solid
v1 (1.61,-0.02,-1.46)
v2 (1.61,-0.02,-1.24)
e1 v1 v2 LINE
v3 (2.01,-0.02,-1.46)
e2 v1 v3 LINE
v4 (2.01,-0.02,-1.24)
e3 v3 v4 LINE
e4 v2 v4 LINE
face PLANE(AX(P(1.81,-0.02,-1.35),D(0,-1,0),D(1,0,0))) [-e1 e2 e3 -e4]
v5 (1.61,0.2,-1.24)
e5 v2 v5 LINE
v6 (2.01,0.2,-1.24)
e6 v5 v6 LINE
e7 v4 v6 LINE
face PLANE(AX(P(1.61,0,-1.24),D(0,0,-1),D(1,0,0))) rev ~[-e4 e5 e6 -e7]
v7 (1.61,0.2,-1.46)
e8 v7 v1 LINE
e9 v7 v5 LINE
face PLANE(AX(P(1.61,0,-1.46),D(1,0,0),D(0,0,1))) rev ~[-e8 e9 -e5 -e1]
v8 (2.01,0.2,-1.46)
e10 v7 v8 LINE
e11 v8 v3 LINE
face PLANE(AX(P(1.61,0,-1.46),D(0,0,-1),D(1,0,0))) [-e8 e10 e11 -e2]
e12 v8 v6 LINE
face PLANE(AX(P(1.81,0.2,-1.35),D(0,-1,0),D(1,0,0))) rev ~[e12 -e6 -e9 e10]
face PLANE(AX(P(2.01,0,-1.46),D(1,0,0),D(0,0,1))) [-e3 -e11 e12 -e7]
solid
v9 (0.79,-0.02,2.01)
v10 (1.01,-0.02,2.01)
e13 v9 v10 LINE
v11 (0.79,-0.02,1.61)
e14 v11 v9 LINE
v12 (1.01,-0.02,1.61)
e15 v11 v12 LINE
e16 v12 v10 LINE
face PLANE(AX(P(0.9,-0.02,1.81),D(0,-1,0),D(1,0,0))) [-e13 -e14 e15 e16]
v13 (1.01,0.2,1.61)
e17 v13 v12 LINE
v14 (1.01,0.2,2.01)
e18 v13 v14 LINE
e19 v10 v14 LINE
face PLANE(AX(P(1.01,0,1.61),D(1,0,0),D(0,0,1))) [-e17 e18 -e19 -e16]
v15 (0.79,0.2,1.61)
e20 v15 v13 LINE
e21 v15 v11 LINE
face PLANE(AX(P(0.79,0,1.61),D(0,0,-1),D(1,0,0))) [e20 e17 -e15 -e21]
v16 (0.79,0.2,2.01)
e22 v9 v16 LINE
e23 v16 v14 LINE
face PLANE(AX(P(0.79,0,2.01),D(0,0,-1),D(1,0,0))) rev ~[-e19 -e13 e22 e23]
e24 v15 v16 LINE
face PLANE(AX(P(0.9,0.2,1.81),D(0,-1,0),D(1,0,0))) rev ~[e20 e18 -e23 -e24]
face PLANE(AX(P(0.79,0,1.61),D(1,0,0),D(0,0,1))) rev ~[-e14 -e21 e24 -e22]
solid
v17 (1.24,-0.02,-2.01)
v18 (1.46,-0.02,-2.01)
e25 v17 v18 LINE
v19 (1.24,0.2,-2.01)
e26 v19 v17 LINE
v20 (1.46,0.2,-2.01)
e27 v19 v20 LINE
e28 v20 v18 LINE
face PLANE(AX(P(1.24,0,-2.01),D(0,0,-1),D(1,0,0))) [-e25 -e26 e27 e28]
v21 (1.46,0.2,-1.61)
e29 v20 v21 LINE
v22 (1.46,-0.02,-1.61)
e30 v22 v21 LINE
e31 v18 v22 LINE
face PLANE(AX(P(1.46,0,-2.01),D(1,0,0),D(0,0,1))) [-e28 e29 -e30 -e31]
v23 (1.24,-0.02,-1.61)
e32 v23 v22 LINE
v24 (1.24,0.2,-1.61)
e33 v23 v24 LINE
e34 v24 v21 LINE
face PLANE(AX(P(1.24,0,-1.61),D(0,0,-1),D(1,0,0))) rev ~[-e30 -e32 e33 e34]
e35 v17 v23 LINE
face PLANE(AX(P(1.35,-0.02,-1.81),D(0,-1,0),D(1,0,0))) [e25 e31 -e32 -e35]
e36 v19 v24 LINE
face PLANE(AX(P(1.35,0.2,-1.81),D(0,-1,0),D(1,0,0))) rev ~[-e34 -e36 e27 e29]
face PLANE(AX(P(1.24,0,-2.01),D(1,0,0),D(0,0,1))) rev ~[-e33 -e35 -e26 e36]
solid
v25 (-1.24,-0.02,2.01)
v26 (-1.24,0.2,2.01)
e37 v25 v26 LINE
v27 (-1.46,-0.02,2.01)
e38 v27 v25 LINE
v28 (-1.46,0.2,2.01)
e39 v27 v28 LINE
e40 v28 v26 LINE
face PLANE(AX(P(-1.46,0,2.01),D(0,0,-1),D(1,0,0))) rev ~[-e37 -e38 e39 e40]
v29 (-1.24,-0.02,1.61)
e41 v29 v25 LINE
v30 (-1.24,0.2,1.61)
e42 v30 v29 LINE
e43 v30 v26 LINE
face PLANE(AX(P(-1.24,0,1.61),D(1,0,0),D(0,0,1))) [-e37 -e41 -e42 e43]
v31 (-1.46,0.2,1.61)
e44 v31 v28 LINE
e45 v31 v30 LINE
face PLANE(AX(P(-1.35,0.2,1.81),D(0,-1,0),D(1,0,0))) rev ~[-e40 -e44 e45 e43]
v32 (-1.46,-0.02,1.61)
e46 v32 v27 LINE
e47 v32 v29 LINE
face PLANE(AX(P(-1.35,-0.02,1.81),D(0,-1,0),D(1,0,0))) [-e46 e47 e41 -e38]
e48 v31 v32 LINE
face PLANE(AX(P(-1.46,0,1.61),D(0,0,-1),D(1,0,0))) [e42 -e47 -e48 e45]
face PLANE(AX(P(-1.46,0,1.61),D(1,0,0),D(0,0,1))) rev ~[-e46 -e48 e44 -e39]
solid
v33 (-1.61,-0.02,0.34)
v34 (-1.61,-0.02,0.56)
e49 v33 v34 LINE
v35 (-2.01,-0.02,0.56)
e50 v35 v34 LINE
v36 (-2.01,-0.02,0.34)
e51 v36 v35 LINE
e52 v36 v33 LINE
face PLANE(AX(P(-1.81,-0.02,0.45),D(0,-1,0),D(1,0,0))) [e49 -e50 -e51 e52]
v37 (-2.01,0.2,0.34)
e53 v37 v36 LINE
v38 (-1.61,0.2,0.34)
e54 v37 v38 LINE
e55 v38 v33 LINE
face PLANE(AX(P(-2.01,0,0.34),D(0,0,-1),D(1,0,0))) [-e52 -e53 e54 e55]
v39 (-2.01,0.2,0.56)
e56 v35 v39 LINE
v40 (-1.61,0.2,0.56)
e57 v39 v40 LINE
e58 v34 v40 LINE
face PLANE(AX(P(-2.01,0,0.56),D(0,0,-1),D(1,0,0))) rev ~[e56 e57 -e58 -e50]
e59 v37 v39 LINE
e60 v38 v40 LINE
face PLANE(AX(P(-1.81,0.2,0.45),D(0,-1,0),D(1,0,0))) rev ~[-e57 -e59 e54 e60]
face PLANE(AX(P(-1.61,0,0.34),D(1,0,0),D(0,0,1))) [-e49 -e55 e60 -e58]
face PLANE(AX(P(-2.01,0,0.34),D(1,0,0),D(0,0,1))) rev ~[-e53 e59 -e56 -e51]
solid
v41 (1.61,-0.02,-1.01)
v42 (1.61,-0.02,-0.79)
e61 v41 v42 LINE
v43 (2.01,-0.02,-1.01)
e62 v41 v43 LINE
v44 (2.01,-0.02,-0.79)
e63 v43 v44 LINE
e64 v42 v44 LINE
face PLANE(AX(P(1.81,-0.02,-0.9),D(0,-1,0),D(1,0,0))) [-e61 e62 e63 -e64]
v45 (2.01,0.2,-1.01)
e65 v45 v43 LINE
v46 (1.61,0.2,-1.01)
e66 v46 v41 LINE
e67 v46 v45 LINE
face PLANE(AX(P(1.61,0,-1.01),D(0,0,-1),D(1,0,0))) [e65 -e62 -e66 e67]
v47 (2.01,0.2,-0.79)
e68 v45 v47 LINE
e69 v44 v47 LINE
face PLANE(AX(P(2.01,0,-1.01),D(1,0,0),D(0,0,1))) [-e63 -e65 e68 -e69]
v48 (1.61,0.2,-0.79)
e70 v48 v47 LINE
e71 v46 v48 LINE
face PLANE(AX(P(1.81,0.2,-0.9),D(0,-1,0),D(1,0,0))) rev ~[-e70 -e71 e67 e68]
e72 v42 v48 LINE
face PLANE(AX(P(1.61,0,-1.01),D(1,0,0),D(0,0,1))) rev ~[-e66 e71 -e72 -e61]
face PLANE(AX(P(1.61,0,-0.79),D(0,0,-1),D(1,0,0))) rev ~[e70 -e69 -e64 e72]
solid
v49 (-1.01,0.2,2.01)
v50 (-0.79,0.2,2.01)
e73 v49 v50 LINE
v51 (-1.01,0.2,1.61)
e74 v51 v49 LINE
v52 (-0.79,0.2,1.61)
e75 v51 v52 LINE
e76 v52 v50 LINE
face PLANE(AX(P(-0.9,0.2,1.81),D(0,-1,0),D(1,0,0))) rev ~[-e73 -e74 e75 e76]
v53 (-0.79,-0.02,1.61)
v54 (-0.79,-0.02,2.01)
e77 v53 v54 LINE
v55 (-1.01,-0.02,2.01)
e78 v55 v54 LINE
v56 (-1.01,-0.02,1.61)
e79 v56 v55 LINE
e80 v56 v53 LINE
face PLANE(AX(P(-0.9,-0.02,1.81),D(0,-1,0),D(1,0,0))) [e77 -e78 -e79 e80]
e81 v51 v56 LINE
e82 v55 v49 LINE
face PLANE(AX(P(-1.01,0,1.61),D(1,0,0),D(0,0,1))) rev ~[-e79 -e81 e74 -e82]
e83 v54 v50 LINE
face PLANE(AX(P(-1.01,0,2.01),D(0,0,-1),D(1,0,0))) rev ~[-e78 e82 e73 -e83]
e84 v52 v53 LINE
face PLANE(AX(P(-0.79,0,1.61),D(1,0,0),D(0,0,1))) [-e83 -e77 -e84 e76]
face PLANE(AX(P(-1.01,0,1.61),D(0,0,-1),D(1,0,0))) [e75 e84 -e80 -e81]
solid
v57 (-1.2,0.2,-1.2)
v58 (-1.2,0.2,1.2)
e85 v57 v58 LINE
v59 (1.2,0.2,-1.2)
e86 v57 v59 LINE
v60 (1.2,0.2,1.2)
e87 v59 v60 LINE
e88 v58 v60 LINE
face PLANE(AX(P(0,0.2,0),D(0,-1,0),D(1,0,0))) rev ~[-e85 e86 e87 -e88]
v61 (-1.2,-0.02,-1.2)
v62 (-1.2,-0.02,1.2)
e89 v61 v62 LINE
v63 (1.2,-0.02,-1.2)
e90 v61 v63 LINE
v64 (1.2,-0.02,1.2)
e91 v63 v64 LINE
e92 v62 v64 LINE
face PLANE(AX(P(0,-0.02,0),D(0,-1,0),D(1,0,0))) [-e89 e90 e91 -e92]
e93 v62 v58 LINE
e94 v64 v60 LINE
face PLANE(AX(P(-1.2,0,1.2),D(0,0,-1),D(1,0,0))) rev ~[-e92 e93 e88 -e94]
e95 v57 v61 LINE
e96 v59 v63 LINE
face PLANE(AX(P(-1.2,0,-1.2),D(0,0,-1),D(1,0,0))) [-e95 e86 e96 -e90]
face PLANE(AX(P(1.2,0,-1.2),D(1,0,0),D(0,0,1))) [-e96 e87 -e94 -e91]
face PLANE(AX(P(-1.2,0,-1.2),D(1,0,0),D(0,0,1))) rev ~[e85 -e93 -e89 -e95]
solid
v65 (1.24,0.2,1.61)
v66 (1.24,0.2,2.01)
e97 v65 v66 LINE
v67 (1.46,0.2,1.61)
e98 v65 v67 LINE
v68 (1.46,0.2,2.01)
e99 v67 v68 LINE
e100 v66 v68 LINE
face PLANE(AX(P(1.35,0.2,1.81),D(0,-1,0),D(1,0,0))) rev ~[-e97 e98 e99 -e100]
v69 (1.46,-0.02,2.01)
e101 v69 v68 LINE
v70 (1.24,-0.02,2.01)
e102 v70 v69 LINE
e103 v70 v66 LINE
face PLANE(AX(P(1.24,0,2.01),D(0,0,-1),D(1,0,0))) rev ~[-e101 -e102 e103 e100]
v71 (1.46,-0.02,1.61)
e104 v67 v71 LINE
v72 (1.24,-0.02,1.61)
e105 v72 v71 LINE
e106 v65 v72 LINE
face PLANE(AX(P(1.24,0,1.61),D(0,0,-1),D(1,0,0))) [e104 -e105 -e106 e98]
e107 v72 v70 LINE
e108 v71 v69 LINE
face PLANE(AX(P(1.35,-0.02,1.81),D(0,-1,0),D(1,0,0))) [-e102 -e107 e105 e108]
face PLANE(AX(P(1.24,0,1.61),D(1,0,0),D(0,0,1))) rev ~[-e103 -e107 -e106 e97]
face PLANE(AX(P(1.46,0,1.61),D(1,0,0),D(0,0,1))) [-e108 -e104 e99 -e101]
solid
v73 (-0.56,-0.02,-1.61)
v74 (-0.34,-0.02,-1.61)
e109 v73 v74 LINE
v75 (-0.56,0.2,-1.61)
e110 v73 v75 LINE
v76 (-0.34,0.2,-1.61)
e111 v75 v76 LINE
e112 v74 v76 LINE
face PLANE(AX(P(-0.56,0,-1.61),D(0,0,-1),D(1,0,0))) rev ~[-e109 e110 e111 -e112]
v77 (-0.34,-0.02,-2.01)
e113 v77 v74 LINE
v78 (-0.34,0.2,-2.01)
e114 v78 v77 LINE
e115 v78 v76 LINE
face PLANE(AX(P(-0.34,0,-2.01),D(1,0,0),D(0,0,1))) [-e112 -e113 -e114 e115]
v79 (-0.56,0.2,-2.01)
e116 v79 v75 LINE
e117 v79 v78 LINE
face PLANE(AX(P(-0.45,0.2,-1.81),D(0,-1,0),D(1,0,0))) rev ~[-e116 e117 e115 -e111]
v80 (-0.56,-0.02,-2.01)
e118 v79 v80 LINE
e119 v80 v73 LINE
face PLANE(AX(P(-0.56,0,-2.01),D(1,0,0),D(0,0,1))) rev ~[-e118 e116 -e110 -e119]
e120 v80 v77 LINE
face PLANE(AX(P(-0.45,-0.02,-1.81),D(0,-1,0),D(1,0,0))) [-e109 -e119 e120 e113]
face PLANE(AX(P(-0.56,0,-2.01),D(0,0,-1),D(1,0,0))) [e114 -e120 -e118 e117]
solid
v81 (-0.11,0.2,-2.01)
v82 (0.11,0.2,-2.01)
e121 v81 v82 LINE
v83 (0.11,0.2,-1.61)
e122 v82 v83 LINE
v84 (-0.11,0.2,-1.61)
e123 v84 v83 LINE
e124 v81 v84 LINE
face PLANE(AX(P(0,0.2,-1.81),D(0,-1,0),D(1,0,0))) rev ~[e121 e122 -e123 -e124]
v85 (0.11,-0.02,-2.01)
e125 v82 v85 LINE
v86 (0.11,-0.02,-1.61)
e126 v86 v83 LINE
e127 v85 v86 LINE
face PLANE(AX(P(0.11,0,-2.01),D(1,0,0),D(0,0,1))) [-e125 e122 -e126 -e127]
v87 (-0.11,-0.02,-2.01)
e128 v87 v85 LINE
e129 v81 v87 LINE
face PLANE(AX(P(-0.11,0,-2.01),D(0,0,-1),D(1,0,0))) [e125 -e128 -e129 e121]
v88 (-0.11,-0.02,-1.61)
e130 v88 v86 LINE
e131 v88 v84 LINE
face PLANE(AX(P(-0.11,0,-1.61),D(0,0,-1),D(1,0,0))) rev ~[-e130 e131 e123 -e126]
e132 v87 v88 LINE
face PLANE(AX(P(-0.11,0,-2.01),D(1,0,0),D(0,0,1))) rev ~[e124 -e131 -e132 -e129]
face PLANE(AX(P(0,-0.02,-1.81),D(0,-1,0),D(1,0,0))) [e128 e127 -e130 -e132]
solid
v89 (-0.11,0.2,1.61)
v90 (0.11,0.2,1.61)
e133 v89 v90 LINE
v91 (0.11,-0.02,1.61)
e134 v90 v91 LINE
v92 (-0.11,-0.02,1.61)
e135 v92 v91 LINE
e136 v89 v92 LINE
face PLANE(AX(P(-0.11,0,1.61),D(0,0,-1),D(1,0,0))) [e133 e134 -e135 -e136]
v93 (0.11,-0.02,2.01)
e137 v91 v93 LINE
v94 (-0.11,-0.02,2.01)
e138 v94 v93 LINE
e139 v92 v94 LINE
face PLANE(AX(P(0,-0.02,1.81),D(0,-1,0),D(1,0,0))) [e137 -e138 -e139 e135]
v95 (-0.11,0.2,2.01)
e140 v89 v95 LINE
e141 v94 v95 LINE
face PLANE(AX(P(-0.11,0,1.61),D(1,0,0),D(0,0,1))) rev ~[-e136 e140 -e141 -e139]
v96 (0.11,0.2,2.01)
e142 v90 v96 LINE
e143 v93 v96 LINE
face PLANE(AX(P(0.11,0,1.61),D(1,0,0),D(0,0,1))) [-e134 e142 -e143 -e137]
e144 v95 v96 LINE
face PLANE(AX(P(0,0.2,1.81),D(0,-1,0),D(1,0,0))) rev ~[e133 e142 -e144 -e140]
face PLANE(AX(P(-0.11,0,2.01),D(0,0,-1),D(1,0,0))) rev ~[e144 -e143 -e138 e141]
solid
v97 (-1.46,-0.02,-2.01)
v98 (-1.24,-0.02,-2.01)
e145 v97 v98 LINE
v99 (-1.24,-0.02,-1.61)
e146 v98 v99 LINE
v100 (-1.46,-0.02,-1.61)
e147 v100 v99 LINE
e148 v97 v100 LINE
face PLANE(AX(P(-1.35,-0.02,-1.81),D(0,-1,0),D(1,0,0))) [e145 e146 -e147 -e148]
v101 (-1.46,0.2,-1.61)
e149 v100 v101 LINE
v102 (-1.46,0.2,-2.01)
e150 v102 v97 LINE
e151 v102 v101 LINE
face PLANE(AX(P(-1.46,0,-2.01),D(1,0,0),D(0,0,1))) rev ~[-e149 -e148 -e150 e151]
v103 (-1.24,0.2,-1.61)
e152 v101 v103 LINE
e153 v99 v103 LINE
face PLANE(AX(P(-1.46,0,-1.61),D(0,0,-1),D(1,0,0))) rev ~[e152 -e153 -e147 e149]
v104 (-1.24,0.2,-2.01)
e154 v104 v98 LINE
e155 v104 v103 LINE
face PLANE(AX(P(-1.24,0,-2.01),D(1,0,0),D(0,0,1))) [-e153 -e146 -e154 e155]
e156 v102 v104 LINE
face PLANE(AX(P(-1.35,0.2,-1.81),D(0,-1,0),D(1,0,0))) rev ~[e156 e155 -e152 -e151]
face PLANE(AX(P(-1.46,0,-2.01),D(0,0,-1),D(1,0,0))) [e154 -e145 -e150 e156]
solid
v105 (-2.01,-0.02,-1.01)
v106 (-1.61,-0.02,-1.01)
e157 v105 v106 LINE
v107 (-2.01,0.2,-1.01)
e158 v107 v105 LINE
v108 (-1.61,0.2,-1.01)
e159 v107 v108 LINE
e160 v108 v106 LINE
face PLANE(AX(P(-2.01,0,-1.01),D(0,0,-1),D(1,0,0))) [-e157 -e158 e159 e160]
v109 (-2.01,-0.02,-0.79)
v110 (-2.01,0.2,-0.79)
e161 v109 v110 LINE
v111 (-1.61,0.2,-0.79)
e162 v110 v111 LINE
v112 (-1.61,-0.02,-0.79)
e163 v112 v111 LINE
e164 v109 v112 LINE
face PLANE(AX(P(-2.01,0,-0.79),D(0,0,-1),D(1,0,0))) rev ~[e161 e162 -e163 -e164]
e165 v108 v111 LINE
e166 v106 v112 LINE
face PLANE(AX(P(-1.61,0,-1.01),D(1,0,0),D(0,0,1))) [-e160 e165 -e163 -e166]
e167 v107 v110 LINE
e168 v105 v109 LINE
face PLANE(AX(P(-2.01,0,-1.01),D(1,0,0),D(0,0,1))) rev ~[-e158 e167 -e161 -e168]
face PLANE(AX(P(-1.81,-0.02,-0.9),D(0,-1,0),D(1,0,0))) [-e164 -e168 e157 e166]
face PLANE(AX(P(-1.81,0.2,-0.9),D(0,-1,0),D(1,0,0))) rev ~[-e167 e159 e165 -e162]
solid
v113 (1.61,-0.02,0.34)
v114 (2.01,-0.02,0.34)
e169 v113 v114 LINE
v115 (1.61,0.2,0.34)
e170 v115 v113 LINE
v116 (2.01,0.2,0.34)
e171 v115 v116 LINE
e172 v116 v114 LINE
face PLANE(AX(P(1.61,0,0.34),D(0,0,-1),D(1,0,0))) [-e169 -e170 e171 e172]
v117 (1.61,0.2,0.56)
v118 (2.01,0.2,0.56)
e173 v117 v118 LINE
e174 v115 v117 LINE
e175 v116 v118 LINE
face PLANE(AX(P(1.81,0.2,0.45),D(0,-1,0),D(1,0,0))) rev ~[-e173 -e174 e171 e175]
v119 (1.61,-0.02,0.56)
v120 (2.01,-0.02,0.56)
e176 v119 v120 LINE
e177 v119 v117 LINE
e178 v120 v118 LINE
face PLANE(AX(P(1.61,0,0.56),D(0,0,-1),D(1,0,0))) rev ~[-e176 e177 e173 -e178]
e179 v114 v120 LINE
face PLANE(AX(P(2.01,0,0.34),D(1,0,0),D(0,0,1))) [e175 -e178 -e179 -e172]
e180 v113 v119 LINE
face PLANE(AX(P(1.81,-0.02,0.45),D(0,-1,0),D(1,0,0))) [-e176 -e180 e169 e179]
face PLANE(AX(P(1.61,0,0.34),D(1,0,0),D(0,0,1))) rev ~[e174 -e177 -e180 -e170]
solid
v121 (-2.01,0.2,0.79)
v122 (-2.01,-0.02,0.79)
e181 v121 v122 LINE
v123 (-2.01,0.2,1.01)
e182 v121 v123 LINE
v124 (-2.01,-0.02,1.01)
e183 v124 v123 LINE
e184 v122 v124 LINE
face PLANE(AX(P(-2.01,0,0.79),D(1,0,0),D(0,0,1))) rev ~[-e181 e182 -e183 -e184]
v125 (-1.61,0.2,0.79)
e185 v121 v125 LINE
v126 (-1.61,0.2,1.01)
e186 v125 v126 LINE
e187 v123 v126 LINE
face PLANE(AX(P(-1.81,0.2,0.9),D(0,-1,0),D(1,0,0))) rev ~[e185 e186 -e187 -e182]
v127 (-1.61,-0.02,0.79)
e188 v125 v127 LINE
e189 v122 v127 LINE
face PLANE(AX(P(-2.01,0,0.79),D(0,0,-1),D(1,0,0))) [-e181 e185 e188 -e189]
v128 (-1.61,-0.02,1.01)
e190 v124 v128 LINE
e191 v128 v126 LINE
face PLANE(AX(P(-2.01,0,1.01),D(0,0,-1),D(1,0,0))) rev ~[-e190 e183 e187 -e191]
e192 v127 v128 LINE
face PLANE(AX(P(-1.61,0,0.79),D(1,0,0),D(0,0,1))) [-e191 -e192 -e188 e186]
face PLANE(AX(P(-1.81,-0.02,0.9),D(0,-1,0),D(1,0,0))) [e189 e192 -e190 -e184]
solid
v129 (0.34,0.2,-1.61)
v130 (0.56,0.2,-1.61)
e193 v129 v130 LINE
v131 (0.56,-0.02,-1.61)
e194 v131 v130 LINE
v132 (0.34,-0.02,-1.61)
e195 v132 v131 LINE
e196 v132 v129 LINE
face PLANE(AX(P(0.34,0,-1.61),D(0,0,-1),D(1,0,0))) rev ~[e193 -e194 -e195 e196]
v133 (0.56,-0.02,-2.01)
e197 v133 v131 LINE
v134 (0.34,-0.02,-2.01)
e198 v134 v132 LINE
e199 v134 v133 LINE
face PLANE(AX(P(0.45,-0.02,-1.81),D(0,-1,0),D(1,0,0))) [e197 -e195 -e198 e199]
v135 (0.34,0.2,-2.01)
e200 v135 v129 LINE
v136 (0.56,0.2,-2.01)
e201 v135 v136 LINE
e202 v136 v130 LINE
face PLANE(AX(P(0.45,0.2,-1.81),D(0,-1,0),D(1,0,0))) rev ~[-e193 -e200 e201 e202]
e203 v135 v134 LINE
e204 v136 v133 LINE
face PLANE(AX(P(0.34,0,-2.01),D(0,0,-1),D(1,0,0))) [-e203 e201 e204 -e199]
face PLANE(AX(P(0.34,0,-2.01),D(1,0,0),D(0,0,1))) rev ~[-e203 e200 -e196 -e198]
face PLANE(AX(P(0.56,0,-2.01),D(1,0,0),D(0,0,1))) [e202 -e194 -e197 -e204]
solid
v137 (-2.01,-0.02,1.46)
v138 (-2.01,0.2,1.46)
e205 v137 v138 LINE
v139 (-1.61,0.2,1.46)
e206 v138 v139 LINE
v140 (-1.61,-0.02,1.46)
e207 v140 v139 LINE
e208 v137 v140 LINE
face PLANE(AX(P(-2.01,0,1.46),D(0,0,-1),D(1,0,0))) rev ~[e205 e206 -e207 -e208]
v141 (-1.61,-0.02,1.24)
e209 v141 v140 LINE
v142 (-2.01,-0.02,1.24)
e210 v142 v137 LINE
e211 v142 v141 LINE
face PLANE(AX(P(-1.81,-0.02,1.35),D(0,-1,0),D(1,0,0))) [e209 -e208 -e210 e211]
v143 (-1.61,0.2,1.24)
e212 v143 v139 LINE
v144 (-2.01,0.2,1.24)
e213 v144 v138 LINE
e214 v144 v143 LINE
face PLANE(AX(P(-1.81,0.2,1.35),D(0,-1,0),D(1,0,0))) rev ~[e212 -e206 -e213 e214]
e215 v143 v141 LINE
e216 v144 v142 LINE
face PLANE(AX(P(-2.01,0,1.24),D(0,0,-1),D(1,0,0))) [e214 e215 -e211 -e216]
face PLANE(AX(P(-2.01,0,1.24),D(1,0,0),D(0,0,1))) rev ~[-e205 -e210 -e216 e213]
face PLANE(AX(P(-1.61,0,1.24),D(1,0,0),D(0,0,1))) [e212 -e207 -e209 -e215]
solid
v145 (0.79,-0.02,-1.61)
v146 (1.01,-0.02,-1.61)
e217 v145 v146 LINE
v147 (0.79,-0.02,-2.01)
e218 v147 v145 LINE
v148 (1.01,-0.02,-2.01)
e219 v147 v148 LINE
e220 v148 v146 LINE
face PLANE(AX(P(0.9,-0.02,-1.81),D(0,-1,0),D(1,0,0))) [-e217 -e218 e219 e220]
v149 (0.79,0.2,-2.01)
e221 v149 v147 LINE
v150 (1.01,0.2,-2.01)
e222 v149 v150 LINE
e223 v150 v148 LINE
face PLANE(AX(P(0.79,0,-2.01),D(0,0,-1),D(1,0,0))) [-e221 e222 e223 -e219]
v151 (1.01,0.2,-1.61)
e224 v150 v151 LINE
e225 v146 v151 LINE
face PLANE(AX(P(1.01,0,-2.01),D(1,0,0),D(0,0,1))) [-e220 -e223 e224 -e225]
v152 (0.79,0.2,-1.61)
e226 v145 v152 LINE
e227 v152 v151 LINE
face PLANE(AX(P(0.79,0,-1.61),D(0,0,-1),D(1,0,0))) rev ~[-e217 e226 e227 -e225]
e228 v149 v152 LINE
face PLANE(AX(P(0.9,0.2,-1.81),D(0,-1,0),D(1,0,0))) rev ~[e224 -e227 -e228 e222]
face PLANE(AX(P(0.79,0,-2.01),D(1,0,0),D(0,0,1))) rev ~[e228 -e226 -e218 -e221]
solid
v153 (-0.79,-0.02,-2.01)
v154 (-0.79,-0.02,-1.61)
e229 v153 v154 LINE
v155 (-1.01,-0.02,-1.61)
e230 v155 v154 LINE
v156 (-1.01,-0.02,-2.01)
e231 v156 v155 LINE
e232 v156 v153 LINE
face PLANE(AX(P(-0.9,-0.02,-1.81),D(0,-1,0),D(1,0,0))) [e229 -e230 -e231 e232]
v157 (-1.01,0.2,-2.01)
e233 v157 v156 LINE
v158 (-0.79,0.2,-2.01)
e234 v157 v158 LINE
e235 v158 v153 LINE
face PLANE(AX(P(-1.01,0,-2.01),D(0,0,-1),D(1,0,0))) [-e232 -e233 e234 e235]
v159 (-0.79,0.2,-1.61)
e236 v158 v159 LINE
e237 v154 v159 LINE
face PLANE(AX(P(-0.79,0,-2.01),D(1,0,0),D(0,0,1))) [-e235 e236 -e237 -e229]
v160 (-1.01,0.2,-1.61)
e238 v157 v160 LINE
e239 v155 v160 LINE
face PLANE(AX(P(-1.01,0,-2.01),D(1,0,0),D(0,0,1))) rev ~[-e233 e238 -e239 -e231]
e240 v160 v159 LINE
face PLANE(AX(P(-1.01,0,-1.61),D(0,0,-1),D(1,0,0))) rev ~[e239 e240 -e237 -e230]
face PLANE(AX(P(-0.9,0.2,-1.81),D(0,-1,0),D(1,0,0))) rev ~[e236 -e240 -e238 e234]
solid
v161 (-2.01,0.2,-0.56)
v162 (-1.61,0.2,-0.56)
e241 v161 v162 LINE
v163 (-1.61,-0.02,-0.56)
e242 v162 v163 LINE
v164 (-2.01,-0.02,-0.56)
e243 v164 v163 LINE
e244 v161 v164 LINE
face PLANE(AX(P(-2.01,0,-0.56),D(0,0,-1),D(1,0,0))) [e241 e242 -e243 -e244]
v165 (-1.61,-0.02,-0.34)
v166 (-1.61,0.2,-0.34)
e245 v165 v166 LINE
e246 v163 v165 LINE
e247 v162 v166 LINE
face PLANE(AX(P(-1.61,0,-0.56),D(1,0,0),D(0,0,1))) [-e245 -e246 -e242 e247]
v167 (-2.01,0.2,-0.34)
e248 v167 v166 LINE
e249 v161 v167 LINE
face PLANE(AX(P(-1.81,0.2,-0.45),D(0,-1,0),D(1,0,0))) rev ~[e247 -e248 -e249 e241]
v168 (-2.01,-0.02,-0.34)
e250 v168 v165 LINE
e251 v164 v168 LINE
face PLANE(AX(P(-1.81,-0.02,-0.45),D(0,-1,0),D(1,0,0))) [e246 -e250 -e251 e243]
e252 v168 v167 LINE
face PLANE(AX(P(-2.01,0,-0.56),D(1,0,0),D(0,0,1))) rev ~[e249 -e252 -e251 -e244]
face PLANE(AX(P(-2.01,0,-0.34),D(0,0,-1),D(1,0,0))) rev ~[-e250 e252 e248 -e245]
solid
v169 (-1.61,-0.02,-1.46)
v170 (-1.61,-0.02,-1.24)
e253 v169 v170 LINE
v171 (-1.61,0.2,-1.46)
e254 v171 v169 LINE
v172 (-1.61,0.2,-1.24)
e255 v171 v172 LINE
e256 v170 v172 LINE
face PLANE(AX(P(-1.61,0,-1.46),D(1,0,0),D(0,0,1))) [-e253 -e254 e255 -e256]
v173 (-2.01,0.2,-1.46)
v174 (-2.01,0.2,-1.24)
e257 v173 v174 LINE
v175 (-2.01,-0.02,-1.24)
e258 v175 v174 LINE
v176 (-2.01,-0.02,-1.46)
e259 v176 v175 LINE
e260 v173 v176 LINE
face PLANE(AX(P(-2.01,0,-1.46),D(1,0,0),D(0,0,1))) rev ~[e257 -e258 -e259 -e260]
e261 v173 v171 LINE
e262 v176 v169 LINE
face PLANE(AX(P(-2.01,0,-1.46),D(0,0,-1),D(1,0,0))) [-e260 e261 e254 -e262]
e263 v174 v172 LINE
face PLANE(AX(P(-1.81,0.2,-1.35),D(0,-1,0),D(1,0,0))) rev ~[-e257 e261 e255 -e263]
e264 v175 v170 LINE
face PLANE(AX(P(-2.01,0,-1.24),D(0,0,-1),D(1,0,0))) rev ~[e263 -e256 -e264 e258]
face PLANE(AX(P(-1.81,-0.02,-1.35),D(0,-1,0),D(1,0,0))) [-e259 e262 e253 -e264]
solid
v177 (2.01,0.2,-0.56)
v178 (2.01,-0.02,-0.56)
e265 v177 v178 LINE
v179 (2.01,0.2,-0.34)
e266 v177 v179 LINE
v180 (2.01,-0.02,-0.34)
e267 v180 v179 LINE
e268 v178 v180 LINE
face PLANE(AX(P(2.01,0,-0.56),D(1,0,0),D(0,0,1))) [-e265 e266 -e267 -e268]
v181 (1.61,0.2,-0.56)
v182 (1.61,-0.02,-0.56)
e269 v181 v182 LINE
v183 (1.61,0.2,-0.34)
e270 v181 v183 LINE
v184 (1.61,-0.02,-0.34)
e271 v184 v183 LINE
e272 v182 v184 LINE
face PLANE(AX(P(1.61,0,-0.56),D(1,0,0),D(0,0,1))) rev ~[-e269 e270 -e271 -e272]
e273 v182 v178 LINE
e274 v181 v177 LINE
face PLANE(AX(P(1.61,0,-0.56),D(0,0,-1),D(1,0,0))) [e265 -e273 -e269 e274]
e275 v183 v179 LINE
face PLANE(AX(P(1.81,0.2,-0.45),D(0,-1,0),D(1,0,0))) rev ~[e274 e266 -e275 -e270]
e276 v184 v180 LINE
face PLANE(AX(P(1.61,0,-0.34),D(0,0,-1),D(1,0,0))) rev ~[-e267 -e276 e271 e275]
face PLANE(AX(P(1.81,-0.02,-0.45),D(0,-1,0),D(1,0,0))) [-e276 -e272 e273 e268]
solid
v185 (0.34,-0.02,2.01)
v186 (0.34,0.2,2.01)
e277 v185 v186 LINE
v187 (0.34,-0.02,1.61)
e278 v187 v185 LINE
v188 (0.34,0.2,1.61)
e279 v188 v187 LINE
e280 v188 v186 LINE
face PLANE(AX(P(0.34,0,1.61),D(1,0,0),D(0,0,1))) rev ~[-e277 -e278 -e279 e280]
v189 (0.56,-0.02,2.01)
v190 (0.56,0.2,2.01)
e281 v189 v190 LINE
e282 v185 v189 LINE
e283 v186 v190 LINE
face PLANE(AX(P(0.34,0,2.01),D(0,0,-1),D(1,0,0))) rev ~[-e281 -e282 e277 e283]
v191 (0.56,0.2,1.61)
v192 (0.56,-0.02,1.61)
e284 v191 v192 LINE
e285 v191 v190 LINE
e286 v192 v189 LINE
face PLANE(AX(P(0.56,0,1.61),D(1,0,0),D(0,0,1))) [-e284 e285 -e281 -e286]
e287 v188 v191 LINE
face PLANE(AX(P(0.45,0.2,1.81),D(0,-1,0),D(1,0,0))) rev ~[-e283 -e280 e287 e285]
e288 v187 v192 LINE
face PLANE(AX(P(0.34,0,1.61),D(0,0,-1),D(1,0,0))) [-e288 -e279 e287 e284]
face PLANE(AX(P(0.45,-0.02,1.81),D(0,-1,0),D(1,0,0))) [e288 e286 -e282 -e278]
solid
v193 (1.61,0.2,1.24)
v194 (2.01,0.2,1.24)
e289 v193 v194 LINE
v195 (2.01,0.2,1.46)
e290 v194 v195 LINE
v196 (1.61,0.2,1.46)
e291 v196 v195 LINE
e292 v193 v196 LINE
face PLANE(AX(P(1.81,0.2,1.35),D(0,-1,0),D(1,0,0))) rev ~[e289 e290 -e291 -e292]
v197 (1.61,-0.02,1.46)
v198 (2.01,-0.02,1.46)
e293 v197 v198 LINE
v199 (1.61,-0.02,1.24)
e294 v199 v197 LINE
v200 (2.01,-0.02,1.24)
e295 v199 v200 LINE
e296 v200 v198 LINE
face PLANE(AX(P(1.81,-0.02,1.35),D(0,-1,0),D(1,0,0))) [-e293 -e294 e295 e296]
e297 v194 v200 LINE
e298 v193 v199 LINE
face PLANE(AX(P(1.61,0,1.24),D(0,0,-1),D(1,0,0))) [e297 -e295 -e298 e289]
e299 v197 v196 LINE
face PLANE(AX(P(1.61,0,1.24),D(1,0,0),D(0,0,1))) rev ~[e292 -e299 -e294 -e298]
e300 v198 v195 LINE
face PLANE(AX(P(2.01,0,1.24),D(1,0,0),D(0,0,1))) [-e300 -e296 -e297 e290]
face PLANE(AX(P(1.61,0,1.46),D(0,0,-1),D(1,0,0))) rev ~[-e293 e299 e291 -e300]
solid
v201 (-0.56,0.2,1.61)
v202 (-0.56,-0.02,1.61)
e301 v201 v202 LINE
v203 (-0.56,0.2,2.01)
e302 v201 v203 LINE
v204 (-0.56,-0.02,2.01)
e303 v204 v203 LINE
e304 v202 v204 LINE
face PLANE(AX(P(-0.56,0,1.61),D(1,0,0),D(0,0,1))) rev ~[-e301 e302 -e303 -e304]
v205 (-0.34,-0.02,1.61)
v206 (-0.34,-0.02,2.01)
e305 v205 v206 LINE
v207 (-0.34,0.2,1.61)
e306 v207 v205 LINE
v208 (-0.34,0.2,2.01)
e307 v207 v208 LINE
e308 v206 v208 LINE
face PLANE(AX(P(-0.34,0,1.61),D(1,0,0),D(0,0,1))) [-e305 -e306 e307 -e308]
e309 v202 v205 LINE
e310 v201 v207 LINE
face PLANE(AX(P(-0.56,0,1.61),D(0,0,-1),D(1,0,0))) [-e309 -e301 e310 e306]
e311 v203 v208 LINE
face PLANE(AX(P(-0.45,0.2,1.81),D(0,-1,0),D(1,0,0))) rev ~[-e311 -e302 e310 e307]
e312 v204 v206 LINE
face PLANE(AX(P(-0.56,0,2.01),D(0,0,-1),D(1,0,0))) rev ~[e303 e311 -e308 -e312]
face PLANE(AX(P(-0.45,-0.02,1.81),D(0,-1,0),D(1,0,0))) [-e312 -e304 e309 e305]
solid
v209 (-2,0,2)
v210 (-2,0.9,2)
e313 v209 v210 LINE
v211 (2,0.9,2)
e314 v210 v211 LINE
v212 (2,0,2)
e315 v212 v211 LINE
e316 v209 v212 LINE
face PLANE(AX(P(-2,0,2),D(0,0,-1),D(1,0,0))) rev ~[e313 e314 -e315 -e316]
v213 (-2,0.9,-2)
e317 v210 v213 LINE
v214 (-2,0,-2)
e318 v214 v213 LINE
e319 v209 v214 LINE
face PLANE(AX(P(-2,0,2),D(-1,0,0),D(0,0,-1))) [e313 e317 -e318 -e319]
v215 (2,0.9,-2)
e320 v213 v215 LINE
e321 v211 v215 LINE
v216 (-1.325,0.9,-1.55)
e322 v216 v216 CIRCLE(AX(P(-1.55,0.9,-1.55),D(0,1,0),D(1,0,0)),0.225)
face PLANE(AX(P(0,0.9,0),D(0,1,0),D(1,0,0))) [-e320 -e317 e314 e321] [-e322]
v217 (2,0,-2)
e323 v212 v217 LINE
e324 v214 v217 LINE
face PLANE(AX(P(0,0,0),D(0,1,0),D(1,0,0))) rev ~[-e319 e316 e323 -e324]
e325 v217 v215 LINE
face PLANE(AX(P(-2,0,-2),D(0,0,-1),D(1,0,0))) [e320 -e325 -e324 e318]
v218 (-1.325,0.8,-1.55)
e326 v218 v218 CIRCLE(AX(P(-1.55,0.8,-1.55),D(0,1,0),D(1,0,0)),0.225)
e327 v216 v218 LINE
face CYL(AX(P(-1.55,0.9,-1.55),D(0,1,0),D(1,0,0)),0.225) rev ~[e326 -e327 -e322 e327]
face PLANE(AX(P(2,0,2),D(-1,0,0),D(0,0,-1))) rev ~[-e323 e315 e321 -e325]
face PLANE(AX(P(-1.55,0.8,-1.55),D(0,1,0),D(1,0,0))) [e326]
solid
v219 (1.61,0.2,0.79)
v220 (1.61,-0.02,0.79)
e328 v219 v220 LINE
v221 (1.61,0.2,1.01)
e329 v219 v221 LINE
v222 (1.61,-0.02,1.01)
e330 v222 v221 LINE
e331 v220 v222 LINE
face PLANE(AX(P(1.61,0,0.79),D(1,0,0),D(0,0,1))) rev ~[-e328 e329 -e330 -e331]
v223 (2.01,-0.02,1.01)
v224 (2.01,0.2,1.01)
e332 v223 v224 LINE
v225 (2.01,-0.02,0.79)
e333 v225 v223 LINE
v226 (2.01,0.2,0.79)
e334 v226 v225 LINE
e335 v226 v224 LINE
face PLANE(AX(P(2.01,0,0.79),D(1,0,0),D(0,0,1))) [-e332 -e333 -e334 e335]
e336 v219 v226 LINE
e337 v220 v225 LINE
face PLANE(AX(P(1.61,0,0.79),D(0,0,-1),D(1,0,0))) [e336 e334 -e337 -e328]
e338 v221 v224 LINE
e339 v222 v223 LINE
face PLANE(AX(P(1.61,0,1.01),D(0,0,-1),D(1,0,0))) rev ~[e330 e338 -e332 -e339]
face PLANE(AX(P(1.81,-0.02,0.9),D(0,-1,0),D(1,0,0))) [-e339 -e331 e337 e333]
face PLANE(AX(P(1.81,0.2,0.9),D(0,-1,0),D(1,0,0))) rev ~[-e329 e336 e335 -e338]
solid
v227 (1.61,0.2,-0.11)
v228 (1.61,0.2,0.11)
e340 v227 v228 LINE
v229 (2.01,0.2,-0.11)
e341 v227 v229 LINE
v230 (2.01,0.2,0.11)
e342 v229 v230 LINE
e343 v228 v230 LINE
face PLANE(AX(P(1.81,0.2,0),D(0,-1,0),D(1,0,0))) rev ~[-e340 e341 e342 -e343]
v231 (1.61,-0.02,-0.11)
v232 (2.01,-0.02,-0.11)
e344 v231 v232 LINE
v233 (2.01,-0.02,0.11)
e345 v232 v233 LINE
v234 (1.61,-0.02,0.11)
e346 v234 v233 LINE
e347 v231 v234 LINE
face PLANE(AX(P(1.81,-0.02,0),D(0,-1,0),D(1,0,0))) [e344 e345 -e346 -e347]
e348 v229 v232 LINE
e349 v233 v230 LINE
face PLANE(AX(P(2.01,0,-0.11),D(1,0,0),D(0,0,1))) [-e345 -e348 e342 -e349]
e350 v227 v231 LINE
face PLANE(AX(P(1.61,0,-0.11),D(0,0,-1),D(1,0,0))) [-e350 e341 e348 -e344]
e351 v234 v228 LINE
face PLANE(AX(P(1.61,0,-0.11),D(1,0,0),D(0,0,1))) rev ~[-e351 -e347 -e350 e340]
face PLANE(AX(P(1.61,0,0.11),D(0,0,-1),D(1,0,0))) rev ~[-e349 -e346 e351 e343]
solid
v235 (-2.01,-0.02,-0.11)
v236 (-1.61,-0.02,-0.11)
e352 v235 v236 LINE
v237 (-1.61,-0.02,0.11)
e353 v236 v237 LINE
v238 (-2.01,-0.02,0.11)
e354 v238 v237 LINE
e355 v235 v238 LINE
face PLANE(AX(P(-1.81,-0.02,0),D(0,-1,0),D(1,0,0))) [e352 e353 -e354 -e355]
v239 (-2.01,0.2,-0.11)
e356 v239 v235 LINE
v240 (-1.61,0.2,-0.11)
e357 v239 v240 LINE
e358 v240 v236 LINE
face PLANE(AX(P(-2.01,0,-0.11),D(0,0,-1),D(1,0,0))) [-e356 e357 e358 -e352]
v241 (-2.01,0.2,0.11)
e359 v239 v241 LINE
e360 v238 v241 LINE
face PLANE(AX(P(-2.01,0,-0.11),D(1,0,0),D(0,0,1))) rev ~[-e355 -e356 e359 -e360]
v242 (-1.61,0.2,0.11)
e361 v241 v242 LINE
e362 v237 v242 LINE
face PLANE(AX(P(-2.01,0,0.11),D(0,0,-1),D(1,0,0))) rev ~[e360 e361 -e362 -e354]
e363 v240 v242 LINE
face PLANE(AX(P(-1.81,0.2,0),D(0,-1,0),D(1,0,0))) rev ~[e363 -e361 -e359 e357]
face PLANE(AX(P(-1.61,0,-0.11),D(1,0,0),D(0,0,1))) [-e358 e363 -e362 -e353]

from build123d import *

# Parameters (mm, degrees)
SKETCH2_W                   = 4
SKETCH2_H                   = 4
BOSS_EXTRUDE1_DEPTH         = 0.9
SKETCH3_W                   = 2.4
SKETCH3_H                   = 2.4
BOSS_EXTRUDE2_DEPTH         = 0.02
BOSS_EXTRUDE2_DEPTH_BACK    = 0.2
SKETCH3_W_2                 = 0.4
SKETCH3_H_2                 = 0.22
BOSS_EXTRUDE2_2_DEPTH       = 0.02
BOSS_EXTRUDE2_2_DEPTH_BACK  = 0.2
BOSS_EXTRUDE2_3_DEPTH       = 0.02
BOSS_EXTRUDE2_3_DEPTH_BACK  = 0.2
BOSS_EXTRUDE2_4_DEPTH       = 0.02
BOSS_EXTRUDE2_4_DEPTH_BACK  = 0.2
BOSS_EXTRUDE2_5_DEPTH       = 0.02
BOSS_EXTRUDE2_5_DEPTH_BACK  = 0.2
BOSS_EXTRUDE2_6_DEPTH       = 0.02
BOSS_EXTRUDE2_6_DEPTH_BACK  = 0.2
BOSS_EXTRUDE2_7_DEPTH       = 0.02
BOSS_EXTRUDE2_7_DEPTH_BACK  = 0.2
BOSS_EXTRUDE2_8_DEPTH       = 0.02
BOSS_EXTRUDE2_8_DEPTH_BACK  = 0.2
SKETCH3_W_3                 = 0.22
SKETCH3_H_3                 = 0.4
BOSS_EXTRUDE2_9_DEPTH       = 0.02
BOSS_EXTRUDE2_9_DEPTH_BACK  = 0.2
BOSS_EXTRUDE2_10_DEPTH      = 0.02
BOSS_EXTRUDE2_10_DEPTH_BACK = 0.2
BOSS_EXTRUDE2_11_DEPTH      = 0.02
BOSS_EXTRUDE2_11_DEPTH_BACK = 0.2
BOSS_EXTRUDE2_12_DEPTH      = 0.02
BOSS_EXTRUDE2_12_DEPTH_BACK = 0.2
BOSS_EXTRUDE2_13_DEPTH      = 0.02
BOSS_EXTRUDE2_13_DEPTH_BACK = 0.2
BOSS_EXTRUDE2_14_DEPTH      = 0.02
BOSS_EXTRUDE2_14_DEPTH_BACK = 0.2
BOSS_EXTRUDE2_15_DEPTH      = 0.02
BOSS_EXTRUDE2_15_DEPTH_BACK = 0.2
BOSS_EXTRUDE2_16_DEPTH      = 0.02
BOSS_EXTRUDE2_16_DEPTH_BACK = 0.2
BOSS_EXTRUDE2_17_DEPTH      = 0.02
BOSS_EXTRUDE2_17_DEPTH_BACK = 0.2
BOSS_EXTRUDE2_18_DEPTH      = 0.02
BOSS_EXTRUDE2_18_DEPTH_BACK = 0.2
BOSS_EXTRUDE2_19_DEPTH      = 0.02
BOSS_EXTRUDE2_19_DEPTH_BACK = 0.2
BOSS_EXTRUDE2_20_DEPTH      = 0.02
BOSS_EXTRUDE2_20_DEPTH_BACK = 0.2
BOSS_EXTRUDE2_21_DEPTH      = 0.02
BOSS_EXTRUDE2_21_DEPTH_BACK = 0.2
BOSS_EXTRUDE2_22_DEPTH      = 0.02
BOSS_EXTRUDE2_22_DEPTH_BACK = 0.2
BOSS_EXTRUDE2_23_DEPTH      = 0.02
BOSS_EXTRUDE2_23_DEPTH_BACK = 0.2
BOSS_EXTRUDE2_24_DEPTH      = 0.02
BOSS_EXTRUDE2_24_DEPTH_BACK = 0.2
BOSS_EXTRUDE2_25_DEPTH      = 0.02
BOSS_EXTRUDE2_25_DEPTH_BACK = 0.2
BOSS_EXTRUDE2_26_DEPTH      = 0.02
BOSS_EXTRUDE2_26_DEPTH_BACK = 0.2
BOSS_EXTRUDE2_27_DEPTH      = 0.02
BOSS_EXTRUDE2_27_DEPTH_BACK = 0.2
BOSS_EXTRUDE2_28_DEPTH      = 0.02
BOSS_EXTRUDE2_28_DEPTH_BACK = 0.2
BOSS_EXTRUDE2_29_DEPTH      = 0.02
BOSS_EXTRUDE2_29_DEPTH_BACK = 0.2
SKETCH4_R                   = 0.225
CUT_EXTRUDE1_DEPTH          = 0.1


with BuildPart() as part:
    # Sketch2 → Boss-Extrude1 (new body)
    with BuildSketch(Plane(origin=(0, 0, 0), x_dir=(1, 0, 0), z_dir=(0, 1, 0))):
        Rectangle(SKETCH2_W, SKETCH2_H)
    extrude(amount=BOSS_EXTRUDE1_DEPTH)

    # Sketch4 → Cut-Extrude1 (cut)
    with BuildSketch(Plane(origin=(0, 0.9, 0), x_dir=(1, 0, 0), z_dir=(0, 1, 0))):
        with Locations((-1.55, 1.55)):
            Circle(SKETCH4_R)
    extrude(amount=-CUT_EXTRUDE1_DEPTH, mode=Mode.SUBTRACT)


with BuildPart() as body_2:
    # Sketch3 → Boss-Extrude2 (new body, two sides)
    with BuildSketch(Plane.XZ) as boss_extrude2_sk:
        Rectangle(SKETCH3_W, SKETCH3_H)
    extrude(amount=BOSS_EXTRUDE2_DEPTH)
    extrude(boss_extrude2_sk.sketch, amount=-BOSS_EXTRUDE2_DEPTH_BACK)


with BuildPart() as body_3:
    # Sketch3 → Boss-Extrude2 2 (new body, two sides)
    with BuildSketch(Plane.XZ) as boss_extrude2_2_sk:
        with Locations((-1.81, 0.45)):
            Rectangle(SKETCH3_W_2, SKETCH3_H_2)
    extrude(amount=BOSS_EXTRUDE2_2_DEPTH)
    extrude(boss_extrude2_2_sk.sketch, amount=-BOSS_EXTRUDE2_2_DEPTH_BACK)


with BuildPart() as body_4:
    # Sketch3 → Boss-Extrude2 3 (new body, two sides)
    with BuildSketch(Plane.XZ) as boss_extrude2_3_sk:
        with Locations((-1.81, 0)):
            Rectangle(SKETCH3_W_2, SKETCH3_H_2)
    extrude(amount=BOSS_EXTRUDE2_3_DEPTH)
    extrude(boss_extrude2_3_sk.sketch, amount=-BOSS_EXTRUDE2_3_DEPTH_BACK)


with BuildPart() as body_5:
    # Sketch3 → Boss-Extrude2 4 (new body, two sides)
    with BuildSketch(Plane.XZ) as boss_extrude2_4_sk:
        with Locations((-1.81, 0.9)):
            Rectangle(SKETCH3_W_2, SKETCH3_H_2)
    extrude(amount=BOSS_EXTRUDE2_4_DEPTH)
    extrude(boss_extrude2_4_sk.sketch, amount=-BOSS_EXTRUDE2_4_DEPTH_BACK)


with BuildPart() as body_6:
    # Sketch3 → Boss-Extrude2 5 (new body, two sides)
    with BuildSketch(Plane.XZ) as boss_extrude2_5_sk:
        with Locations((-1.81, 1.35)):
            Rectangle(SKETCH3_W_2, SKETCH3_H_2)
    extrude(amount=BOSS_EXTRUDE2_5_DEPTH)
    extrude(boss_extrude2_5_sk.sketch, amount=-BOSS_EXTRUDE2_5_DEPTH_BACK)


with BuildPart() as body_7:
    # Sketch3 → Boss-Extrude2 6 (new body, two sides)
    with BuildSketch(Plane.XZ) as boss_extrude2_6_sk:
        with Locations((-1.81, -0.45)):
            Rectangle(SKETCH3_W_2, SKETCH3_H_2)
    extrude(amount=BOSS_EXTRUDE2_6_DEPTH)
    extrude(boss_extrude2_6_sk.sketch, amount=-BOSS_EXTRUDE2_6_DEPTH_BACK)


with BuildPart() as body_8:
    # Sketch3 → Boss-Extrude2 7 (new body, two sides)
    with BuildSketch(Plane.XZ) as boss_extrude2_7_sk:
        with Locations((-1.81, -0.9)):
            Rectangle(SKETCH3_W_2, SKETCH3_H_2)
    extrude(amount=BOSS_EXTRUDE2_7_DEPTH)
    extrude(boss_extrude2_7_sk.sketch, amount=-BOSS_EXTRUDE2_7_DEPTH_BACK)


with BuildPart() as body_9:
    # Sketch3 → Boss-Extrude2 8 (new body, two sides)
    with BuildSketch(Plane.XZ) as boss_extrude2_8_sk:
        with Locations((-1.81, -1.35)):
            Rectangle(SKETCH3_W_2, SKETCH3_H_2)
    extrude(amount=BOSS_EXTRUDE2_8_DEPTH)
    extrude(boss_extrude2_8_sk.sketch, amount=-BOSS_EXTRUDE2_8_DEPTH_BACK)


with BuildPart() as body_10:
    # Sketch3 → Boss-Extrude2 9 (new body, two sides)
    with BuildSketch(Plane.XZ) as boss_extrude2_9_sk:
        with Locations((0.45, 1.81)):
            Rectangle(SKETCH3_W_3, SKETCH3_H_3)
    extrude(amount=BOSS_EXTRUDE2_9_DEPTH)
    extrude(boss_extrude2_9_sk.sketch, amount=-BOSS_EXTRUDE2_9_DEPTH_BACK)


with BuildPart() as body_11:
    # Sketch3 → Boss-Extrude2 10 (new body, two sides)
    with BuildSketch(Plane.XZ) as boss_extrude2_10_sk:
        with Locations((0, 1.81)):
            Rectangle(SKETCH3_W_3, SKETCH3_H_3)
    extrude(amount=BOSS_EXTRUDE2_10_DEPTH)
    extrude(boss_extrude2_10_sk.sketch, amount=-BOSS_EXTRUDE2_10_DEPTH_BACK)


with BuildPart() as body_12:
    # Sketch3 → Boss-Extrude2 11 (new body, two sides)
    with BuildSketch(Plane.XZ) as boss_extrude2_11_sk:
        with Locations((0.9, 1.81)):
            Rectangle(SKETCH3_W_3, SKETCH3_H_3)
    extrude(amount=BOSS_EXTRUDE2_11_DEPTH)
    extrude(boss_extrude2_11_sk.sketch, amount=-BOSS_EXTRUDE2_11_DEPTH_BACK)


with BuildPart() as body_13:
    # Sketch3 → Boss-Extrude2 12 (new body, two sides)
    with BuildSketch(Plane.XZ) as boss_extrude2_12_sk:
        with Locations((1.35, 1.81)):
            Rectangle(SKETCH3_W_3, SKETCH3_H_3)
    extrude(amount=BOSS_EXTRUDE2_12_DEPTH)
    extrude(boss_extrude2_12_sk.sketch, amount=-BOSS_EXTRUDE2_12_DEPTH_BACK)


with BuildPart() as body_14:
    # Sketch3 → Boss-Extrude2 13 (new body, two sides)
    with BuildSketch(Plane.XZ) as boss_extrude2_13_sk:
        with Locations((-0.45, 1.81)):
            Rectangle(SKETCH3_W_3, SKETCH3_H_3)
    extrude(amount=BOSS_EXTRUDE2_13_DEPTH)
    extrude(boss_extrude2_13_sk.sketch, amount=-BOSS_EXTRUDE2_13_DEPTH_BACK)


with BuildPart() as body_15:
    # Sketch3 → Boss-Extrude2 14 (new body, two sides)
    with BuildSketch(Plane.XZ) as boss_extrude2_14_sk:
        with Locations((-0.9, 1.81)):
            Rectangle(SKETCH3_W_3, SKETCH3_H_3)
    extrude(amount=BOSS_EXTRUDE2_14_DEPTH)
    extrude(boss_extrude2_14_sk.sketch, amount=-BOSS_EXTRUDE2_14_DEPTH_BACK)


with BuildPart() as body_16:
    # Sketch3 → Boss-Extrude2 15 (new body, two sides)
    with BuildSketch(Plane.XZ) as boss_extrude2_15_sk:
        with Locations((-1.35, 1.81)):
            Rectangle(SKETCH3_W_3, SKETCH3_H_3)
    extrude(amount=BOSS_EXTRUDE2_15_DEPTH)
    extrude(boss_extrude2_15_sk.sketch, amount=-BOSS_EXTRUDE2_15_DEPTH_BACK)


with BuildPart() as body_17:
    # Sketch3 → Boss-Extrude2 16 (new body, two sides)
    with BuildSketch(Plane.XZ) as boss_extrude2_16_sk:
        with Locations((1.81, -0.45)):
            Rectangle(SKETCH3_W_2, SKETCH3_H_2)
    extrude(amount=BOSS_EXTRUDE2_16_DEPTH)
    extrude(boss_extrude2_16_sk.sketch, amount=-BOSS_EXTRUDE2_16_DEPTH_BACK)


with BuildPart() as body_18:
    # Sketch3 → Boss-Extrude2 17 (new body, two sides)
    with BuildSketch(Plane.XZ) as boss_extrude2_17_sk:
        with Locations((1.81, 0)):
            Rectangle(SKETCH3_W_2, SKETCH3_H_2)
    extrude(amount=BOSS_EXTRUDE2_17_DEPTH)
    extrude(boss_extrude2_17_sk.sketch, amount=-BOSS_EXTRUDE2_17_DEPTH_BACK)


with BuildPart() as body_19:
    # Sketch3 → Boss-Extrude2 18 (new body, two sides)
    with BuildSketch(Plane.XZ) as boss_extrude2_18_sk:
        with Locations((1.81, -0.9)):
            Rectangle(SKETCH3_W_2, SKETCH3_H_2)
    extrude(amount=BOSS_EXTRUDE2_18_DEPTH)
    extrude(boss_extrude2_18_sk.sketch, amount=-BOSS_EXTRUDE2_18_DEPTH_BACK)


with BuildPart() as body_20:
    # Sketch3 → Boss-Extrude2 19 (new body, two sides)
    with BuildSketch(Plane.XZ) as boss_extrude2_19_sk:
        with Locations((1.81, -1.35)):
            Rectangle(SKETCH3_W_2, SKETCH3_H_2)
    extrude(amount=BOSS_EXTRUDE2_19_DEPTH)
    extrude(boss_extrude2_19_sk.sketch, amount=-BOSS_EXTRUDE2_19_DEPTH_BACK)


with BuildPart() as body_21:
    # Sketch3 → Boss-Extrude2 20 (new body, two sides)
    with BuildSketch(Plane.XZ) as boss_extrude2_20_sk:
        with Locations((1.81, 0.45)):
            Rectangle(SKETCH3_W_2, SKETCH3_H_2)
    extrude(amount=BOSS_EXTRUDE2_20_DEPTH)
    extrude(boss_extrude2_20_sk.sketch, amount=-BOSS_EXTRUDE2_20_DEPTH_BACK)


with BuildPart() as body_22:
    # Sketch3 → Boss-Extrude2 21 (new body, two sides)
    with BuildSketch(Plane.XZ) as boss_extrude2_21_sk:
        with Locations((1.81, 0.9)):
            Rectangle(SKETCH3_W_2, SKETCH3_H_2)
    extrude(amount=BOSS_EXTRUDE2_21_DEPTH)
    extrude(boss_extrude2_21_sk.sketch, amount=-BOSS_EXTRUDE2_21_DEPTH_BACK)


with BuildPart() as body_23:
    # Sketch3 → Boss-Extrude2 22 (new body, two sides)
    with BuildSketch(Plane.XZ) as boss_extrude2_22_sk:
        with Locations((1.81, 1.35)):
            Rectangle(SKETCH3_W_2, SKETCH3_H_2)
    extrude(amount=BOSS_EXTRUDE2_22_DEPTH)
    extrude(boss_extrude2_22_sk.sketch, amount=-BOSS_EXTRUDE2_22_DEPTH_BACK)


with BuildPart() as body_24:
    # Sketch3 → Boss-Extrude2 23 (new body, two sides)
    with BuildSketch(Plane.XZ) as boss_extrude2_23_sk:
        with Locations((-0.45, -1.81)):
            Rectangle(SKETCH3_W_3, SKETCH3_H_3)
    extrude(amount=BOSS_EXTRUDE2_23_DEPTH)
    extrude(boss_extrude2_23_sk.sketch, amount=-BOSS_EXTRUDE2_23_DEPTH_BACK)


with BuildPart() as body_25:
    # Sketch3 → Boss-Extrude2 24 (new body, two sides)
    with BuildSketch(Plane.XZ) as boss_extrude2_24_sk:
        with Locations((0, -1.81)):
            Rectangle(SKETCH3_W_3, SKETCH3_H_3)
    extrude(amount=BOSS_EXTRUDE2_24_DEPTH)
    extrude(boss_extrude2_24_sk.sketch, amount=-BOSS_EXTRUDE2_24_DEPTH_BACK)


with BuildPart() as body_26:
    # Sketch3 → Boss-Extrude2 25 (new body, two sides)
    with BuildSketch(Plane.XZ) as boss_extrude2_25_sk:
        with Locations((-0.9, -1.81)):
            Rectangle(SKETCH3_W_3, SKETCH3_H_3)
    extrude(amount=BOSS_EXTRUDE2_25_DEPTH)
    extrude(boss_extrude2_25_sk.sketch, amount=-BOSS_EXTRUDE2_25_DEPTH_BACK)


with BuildPart() as body_27:
    # Sketch3 → Boss-Extrude2 26 (new body, two sides)
    with BuildSketch(Plane.XZ) as boss_extrude2_26_sk:
        with Locations((-1.35, -1.81)):
            Rectangle(SKETCH3_W_3, SKETCH3_H_3)
    extrude(amount=BOSS_EXTRUDE2_26_DEPTH)
    extrude(boss_extrude2_26_sk.sketch, amount=-BOSS_EXTRUDE2_26_DEPTH_BACK)


with BuildPart() as body_28:
    # Sketch3 → Boss-Extrude2 27 (new body, two sides)
    with BuildSketch(Plane.XZ) as boss_extrude2_27_sk:
        with Locations((0.45, -1.81)):
            Rectangle(SKETCH3_W_3, SKETCH3_H_3)
    extrude(amount=BOSS_EXTRUDE2_27_DEPTH)
    extrude(boss_extrude2_27_sk.sketch, amount=-BOSS_EXTRUDE2_27_DEPTH_BACK)


with BuildPart() as body_29:
    # Sketch3 → Boss-Extrude2 28 (new body, two sides)
    with BuildSketch(Plane.XZ) as boss_extrude2_28_sk:
        with Locations((0.9, -1.81)):
            Rectangle(SKETCH3_W_3, SKETCH3_H_3)
    extrude(amount=BOSS_EXTRUDE2_28_DEPTH)
    extrude(boss_extrude2_28_sk.sketch, amount=-BOSS_EXTRUDE2_28_DEPTH_BACK)


with BuildPart() as body_30:
    # Sketch3 → Boss-Extrude2 29 (new body, two sides)
    with BuildSketch(Plane.XZ) as boss_extrude2_29_sk:
        with Locations((1.35, -1.81)):
            Rectangle(SKETCH3_W_3, SKETCH3_H_3)
    extrude(amount=BOSS_EXTRUDE2_29_DEPTH)
    extrude(boss_extrude2_29_sk.sketch, amount=-BOSS_EXTRUDE2_29_DEPTH_BACK)


solid = Compound([part.part, body_2.part, body_3.part, body_4.part, body_5.part, body_6.part, body_7.part, body_8.part, body_9.part, body_10.part, body_11.part, body_12.part, body_13.part, body_14.part, body_15.part, body_16.part, body_17.part, body_18.part, body_19.part, body_20.part, body_21.part, body_22.part, body_23.part, body_24.part, body_25.part, body_26.part, body_27.part, body_28.part, body_29.part, body_30.part])
